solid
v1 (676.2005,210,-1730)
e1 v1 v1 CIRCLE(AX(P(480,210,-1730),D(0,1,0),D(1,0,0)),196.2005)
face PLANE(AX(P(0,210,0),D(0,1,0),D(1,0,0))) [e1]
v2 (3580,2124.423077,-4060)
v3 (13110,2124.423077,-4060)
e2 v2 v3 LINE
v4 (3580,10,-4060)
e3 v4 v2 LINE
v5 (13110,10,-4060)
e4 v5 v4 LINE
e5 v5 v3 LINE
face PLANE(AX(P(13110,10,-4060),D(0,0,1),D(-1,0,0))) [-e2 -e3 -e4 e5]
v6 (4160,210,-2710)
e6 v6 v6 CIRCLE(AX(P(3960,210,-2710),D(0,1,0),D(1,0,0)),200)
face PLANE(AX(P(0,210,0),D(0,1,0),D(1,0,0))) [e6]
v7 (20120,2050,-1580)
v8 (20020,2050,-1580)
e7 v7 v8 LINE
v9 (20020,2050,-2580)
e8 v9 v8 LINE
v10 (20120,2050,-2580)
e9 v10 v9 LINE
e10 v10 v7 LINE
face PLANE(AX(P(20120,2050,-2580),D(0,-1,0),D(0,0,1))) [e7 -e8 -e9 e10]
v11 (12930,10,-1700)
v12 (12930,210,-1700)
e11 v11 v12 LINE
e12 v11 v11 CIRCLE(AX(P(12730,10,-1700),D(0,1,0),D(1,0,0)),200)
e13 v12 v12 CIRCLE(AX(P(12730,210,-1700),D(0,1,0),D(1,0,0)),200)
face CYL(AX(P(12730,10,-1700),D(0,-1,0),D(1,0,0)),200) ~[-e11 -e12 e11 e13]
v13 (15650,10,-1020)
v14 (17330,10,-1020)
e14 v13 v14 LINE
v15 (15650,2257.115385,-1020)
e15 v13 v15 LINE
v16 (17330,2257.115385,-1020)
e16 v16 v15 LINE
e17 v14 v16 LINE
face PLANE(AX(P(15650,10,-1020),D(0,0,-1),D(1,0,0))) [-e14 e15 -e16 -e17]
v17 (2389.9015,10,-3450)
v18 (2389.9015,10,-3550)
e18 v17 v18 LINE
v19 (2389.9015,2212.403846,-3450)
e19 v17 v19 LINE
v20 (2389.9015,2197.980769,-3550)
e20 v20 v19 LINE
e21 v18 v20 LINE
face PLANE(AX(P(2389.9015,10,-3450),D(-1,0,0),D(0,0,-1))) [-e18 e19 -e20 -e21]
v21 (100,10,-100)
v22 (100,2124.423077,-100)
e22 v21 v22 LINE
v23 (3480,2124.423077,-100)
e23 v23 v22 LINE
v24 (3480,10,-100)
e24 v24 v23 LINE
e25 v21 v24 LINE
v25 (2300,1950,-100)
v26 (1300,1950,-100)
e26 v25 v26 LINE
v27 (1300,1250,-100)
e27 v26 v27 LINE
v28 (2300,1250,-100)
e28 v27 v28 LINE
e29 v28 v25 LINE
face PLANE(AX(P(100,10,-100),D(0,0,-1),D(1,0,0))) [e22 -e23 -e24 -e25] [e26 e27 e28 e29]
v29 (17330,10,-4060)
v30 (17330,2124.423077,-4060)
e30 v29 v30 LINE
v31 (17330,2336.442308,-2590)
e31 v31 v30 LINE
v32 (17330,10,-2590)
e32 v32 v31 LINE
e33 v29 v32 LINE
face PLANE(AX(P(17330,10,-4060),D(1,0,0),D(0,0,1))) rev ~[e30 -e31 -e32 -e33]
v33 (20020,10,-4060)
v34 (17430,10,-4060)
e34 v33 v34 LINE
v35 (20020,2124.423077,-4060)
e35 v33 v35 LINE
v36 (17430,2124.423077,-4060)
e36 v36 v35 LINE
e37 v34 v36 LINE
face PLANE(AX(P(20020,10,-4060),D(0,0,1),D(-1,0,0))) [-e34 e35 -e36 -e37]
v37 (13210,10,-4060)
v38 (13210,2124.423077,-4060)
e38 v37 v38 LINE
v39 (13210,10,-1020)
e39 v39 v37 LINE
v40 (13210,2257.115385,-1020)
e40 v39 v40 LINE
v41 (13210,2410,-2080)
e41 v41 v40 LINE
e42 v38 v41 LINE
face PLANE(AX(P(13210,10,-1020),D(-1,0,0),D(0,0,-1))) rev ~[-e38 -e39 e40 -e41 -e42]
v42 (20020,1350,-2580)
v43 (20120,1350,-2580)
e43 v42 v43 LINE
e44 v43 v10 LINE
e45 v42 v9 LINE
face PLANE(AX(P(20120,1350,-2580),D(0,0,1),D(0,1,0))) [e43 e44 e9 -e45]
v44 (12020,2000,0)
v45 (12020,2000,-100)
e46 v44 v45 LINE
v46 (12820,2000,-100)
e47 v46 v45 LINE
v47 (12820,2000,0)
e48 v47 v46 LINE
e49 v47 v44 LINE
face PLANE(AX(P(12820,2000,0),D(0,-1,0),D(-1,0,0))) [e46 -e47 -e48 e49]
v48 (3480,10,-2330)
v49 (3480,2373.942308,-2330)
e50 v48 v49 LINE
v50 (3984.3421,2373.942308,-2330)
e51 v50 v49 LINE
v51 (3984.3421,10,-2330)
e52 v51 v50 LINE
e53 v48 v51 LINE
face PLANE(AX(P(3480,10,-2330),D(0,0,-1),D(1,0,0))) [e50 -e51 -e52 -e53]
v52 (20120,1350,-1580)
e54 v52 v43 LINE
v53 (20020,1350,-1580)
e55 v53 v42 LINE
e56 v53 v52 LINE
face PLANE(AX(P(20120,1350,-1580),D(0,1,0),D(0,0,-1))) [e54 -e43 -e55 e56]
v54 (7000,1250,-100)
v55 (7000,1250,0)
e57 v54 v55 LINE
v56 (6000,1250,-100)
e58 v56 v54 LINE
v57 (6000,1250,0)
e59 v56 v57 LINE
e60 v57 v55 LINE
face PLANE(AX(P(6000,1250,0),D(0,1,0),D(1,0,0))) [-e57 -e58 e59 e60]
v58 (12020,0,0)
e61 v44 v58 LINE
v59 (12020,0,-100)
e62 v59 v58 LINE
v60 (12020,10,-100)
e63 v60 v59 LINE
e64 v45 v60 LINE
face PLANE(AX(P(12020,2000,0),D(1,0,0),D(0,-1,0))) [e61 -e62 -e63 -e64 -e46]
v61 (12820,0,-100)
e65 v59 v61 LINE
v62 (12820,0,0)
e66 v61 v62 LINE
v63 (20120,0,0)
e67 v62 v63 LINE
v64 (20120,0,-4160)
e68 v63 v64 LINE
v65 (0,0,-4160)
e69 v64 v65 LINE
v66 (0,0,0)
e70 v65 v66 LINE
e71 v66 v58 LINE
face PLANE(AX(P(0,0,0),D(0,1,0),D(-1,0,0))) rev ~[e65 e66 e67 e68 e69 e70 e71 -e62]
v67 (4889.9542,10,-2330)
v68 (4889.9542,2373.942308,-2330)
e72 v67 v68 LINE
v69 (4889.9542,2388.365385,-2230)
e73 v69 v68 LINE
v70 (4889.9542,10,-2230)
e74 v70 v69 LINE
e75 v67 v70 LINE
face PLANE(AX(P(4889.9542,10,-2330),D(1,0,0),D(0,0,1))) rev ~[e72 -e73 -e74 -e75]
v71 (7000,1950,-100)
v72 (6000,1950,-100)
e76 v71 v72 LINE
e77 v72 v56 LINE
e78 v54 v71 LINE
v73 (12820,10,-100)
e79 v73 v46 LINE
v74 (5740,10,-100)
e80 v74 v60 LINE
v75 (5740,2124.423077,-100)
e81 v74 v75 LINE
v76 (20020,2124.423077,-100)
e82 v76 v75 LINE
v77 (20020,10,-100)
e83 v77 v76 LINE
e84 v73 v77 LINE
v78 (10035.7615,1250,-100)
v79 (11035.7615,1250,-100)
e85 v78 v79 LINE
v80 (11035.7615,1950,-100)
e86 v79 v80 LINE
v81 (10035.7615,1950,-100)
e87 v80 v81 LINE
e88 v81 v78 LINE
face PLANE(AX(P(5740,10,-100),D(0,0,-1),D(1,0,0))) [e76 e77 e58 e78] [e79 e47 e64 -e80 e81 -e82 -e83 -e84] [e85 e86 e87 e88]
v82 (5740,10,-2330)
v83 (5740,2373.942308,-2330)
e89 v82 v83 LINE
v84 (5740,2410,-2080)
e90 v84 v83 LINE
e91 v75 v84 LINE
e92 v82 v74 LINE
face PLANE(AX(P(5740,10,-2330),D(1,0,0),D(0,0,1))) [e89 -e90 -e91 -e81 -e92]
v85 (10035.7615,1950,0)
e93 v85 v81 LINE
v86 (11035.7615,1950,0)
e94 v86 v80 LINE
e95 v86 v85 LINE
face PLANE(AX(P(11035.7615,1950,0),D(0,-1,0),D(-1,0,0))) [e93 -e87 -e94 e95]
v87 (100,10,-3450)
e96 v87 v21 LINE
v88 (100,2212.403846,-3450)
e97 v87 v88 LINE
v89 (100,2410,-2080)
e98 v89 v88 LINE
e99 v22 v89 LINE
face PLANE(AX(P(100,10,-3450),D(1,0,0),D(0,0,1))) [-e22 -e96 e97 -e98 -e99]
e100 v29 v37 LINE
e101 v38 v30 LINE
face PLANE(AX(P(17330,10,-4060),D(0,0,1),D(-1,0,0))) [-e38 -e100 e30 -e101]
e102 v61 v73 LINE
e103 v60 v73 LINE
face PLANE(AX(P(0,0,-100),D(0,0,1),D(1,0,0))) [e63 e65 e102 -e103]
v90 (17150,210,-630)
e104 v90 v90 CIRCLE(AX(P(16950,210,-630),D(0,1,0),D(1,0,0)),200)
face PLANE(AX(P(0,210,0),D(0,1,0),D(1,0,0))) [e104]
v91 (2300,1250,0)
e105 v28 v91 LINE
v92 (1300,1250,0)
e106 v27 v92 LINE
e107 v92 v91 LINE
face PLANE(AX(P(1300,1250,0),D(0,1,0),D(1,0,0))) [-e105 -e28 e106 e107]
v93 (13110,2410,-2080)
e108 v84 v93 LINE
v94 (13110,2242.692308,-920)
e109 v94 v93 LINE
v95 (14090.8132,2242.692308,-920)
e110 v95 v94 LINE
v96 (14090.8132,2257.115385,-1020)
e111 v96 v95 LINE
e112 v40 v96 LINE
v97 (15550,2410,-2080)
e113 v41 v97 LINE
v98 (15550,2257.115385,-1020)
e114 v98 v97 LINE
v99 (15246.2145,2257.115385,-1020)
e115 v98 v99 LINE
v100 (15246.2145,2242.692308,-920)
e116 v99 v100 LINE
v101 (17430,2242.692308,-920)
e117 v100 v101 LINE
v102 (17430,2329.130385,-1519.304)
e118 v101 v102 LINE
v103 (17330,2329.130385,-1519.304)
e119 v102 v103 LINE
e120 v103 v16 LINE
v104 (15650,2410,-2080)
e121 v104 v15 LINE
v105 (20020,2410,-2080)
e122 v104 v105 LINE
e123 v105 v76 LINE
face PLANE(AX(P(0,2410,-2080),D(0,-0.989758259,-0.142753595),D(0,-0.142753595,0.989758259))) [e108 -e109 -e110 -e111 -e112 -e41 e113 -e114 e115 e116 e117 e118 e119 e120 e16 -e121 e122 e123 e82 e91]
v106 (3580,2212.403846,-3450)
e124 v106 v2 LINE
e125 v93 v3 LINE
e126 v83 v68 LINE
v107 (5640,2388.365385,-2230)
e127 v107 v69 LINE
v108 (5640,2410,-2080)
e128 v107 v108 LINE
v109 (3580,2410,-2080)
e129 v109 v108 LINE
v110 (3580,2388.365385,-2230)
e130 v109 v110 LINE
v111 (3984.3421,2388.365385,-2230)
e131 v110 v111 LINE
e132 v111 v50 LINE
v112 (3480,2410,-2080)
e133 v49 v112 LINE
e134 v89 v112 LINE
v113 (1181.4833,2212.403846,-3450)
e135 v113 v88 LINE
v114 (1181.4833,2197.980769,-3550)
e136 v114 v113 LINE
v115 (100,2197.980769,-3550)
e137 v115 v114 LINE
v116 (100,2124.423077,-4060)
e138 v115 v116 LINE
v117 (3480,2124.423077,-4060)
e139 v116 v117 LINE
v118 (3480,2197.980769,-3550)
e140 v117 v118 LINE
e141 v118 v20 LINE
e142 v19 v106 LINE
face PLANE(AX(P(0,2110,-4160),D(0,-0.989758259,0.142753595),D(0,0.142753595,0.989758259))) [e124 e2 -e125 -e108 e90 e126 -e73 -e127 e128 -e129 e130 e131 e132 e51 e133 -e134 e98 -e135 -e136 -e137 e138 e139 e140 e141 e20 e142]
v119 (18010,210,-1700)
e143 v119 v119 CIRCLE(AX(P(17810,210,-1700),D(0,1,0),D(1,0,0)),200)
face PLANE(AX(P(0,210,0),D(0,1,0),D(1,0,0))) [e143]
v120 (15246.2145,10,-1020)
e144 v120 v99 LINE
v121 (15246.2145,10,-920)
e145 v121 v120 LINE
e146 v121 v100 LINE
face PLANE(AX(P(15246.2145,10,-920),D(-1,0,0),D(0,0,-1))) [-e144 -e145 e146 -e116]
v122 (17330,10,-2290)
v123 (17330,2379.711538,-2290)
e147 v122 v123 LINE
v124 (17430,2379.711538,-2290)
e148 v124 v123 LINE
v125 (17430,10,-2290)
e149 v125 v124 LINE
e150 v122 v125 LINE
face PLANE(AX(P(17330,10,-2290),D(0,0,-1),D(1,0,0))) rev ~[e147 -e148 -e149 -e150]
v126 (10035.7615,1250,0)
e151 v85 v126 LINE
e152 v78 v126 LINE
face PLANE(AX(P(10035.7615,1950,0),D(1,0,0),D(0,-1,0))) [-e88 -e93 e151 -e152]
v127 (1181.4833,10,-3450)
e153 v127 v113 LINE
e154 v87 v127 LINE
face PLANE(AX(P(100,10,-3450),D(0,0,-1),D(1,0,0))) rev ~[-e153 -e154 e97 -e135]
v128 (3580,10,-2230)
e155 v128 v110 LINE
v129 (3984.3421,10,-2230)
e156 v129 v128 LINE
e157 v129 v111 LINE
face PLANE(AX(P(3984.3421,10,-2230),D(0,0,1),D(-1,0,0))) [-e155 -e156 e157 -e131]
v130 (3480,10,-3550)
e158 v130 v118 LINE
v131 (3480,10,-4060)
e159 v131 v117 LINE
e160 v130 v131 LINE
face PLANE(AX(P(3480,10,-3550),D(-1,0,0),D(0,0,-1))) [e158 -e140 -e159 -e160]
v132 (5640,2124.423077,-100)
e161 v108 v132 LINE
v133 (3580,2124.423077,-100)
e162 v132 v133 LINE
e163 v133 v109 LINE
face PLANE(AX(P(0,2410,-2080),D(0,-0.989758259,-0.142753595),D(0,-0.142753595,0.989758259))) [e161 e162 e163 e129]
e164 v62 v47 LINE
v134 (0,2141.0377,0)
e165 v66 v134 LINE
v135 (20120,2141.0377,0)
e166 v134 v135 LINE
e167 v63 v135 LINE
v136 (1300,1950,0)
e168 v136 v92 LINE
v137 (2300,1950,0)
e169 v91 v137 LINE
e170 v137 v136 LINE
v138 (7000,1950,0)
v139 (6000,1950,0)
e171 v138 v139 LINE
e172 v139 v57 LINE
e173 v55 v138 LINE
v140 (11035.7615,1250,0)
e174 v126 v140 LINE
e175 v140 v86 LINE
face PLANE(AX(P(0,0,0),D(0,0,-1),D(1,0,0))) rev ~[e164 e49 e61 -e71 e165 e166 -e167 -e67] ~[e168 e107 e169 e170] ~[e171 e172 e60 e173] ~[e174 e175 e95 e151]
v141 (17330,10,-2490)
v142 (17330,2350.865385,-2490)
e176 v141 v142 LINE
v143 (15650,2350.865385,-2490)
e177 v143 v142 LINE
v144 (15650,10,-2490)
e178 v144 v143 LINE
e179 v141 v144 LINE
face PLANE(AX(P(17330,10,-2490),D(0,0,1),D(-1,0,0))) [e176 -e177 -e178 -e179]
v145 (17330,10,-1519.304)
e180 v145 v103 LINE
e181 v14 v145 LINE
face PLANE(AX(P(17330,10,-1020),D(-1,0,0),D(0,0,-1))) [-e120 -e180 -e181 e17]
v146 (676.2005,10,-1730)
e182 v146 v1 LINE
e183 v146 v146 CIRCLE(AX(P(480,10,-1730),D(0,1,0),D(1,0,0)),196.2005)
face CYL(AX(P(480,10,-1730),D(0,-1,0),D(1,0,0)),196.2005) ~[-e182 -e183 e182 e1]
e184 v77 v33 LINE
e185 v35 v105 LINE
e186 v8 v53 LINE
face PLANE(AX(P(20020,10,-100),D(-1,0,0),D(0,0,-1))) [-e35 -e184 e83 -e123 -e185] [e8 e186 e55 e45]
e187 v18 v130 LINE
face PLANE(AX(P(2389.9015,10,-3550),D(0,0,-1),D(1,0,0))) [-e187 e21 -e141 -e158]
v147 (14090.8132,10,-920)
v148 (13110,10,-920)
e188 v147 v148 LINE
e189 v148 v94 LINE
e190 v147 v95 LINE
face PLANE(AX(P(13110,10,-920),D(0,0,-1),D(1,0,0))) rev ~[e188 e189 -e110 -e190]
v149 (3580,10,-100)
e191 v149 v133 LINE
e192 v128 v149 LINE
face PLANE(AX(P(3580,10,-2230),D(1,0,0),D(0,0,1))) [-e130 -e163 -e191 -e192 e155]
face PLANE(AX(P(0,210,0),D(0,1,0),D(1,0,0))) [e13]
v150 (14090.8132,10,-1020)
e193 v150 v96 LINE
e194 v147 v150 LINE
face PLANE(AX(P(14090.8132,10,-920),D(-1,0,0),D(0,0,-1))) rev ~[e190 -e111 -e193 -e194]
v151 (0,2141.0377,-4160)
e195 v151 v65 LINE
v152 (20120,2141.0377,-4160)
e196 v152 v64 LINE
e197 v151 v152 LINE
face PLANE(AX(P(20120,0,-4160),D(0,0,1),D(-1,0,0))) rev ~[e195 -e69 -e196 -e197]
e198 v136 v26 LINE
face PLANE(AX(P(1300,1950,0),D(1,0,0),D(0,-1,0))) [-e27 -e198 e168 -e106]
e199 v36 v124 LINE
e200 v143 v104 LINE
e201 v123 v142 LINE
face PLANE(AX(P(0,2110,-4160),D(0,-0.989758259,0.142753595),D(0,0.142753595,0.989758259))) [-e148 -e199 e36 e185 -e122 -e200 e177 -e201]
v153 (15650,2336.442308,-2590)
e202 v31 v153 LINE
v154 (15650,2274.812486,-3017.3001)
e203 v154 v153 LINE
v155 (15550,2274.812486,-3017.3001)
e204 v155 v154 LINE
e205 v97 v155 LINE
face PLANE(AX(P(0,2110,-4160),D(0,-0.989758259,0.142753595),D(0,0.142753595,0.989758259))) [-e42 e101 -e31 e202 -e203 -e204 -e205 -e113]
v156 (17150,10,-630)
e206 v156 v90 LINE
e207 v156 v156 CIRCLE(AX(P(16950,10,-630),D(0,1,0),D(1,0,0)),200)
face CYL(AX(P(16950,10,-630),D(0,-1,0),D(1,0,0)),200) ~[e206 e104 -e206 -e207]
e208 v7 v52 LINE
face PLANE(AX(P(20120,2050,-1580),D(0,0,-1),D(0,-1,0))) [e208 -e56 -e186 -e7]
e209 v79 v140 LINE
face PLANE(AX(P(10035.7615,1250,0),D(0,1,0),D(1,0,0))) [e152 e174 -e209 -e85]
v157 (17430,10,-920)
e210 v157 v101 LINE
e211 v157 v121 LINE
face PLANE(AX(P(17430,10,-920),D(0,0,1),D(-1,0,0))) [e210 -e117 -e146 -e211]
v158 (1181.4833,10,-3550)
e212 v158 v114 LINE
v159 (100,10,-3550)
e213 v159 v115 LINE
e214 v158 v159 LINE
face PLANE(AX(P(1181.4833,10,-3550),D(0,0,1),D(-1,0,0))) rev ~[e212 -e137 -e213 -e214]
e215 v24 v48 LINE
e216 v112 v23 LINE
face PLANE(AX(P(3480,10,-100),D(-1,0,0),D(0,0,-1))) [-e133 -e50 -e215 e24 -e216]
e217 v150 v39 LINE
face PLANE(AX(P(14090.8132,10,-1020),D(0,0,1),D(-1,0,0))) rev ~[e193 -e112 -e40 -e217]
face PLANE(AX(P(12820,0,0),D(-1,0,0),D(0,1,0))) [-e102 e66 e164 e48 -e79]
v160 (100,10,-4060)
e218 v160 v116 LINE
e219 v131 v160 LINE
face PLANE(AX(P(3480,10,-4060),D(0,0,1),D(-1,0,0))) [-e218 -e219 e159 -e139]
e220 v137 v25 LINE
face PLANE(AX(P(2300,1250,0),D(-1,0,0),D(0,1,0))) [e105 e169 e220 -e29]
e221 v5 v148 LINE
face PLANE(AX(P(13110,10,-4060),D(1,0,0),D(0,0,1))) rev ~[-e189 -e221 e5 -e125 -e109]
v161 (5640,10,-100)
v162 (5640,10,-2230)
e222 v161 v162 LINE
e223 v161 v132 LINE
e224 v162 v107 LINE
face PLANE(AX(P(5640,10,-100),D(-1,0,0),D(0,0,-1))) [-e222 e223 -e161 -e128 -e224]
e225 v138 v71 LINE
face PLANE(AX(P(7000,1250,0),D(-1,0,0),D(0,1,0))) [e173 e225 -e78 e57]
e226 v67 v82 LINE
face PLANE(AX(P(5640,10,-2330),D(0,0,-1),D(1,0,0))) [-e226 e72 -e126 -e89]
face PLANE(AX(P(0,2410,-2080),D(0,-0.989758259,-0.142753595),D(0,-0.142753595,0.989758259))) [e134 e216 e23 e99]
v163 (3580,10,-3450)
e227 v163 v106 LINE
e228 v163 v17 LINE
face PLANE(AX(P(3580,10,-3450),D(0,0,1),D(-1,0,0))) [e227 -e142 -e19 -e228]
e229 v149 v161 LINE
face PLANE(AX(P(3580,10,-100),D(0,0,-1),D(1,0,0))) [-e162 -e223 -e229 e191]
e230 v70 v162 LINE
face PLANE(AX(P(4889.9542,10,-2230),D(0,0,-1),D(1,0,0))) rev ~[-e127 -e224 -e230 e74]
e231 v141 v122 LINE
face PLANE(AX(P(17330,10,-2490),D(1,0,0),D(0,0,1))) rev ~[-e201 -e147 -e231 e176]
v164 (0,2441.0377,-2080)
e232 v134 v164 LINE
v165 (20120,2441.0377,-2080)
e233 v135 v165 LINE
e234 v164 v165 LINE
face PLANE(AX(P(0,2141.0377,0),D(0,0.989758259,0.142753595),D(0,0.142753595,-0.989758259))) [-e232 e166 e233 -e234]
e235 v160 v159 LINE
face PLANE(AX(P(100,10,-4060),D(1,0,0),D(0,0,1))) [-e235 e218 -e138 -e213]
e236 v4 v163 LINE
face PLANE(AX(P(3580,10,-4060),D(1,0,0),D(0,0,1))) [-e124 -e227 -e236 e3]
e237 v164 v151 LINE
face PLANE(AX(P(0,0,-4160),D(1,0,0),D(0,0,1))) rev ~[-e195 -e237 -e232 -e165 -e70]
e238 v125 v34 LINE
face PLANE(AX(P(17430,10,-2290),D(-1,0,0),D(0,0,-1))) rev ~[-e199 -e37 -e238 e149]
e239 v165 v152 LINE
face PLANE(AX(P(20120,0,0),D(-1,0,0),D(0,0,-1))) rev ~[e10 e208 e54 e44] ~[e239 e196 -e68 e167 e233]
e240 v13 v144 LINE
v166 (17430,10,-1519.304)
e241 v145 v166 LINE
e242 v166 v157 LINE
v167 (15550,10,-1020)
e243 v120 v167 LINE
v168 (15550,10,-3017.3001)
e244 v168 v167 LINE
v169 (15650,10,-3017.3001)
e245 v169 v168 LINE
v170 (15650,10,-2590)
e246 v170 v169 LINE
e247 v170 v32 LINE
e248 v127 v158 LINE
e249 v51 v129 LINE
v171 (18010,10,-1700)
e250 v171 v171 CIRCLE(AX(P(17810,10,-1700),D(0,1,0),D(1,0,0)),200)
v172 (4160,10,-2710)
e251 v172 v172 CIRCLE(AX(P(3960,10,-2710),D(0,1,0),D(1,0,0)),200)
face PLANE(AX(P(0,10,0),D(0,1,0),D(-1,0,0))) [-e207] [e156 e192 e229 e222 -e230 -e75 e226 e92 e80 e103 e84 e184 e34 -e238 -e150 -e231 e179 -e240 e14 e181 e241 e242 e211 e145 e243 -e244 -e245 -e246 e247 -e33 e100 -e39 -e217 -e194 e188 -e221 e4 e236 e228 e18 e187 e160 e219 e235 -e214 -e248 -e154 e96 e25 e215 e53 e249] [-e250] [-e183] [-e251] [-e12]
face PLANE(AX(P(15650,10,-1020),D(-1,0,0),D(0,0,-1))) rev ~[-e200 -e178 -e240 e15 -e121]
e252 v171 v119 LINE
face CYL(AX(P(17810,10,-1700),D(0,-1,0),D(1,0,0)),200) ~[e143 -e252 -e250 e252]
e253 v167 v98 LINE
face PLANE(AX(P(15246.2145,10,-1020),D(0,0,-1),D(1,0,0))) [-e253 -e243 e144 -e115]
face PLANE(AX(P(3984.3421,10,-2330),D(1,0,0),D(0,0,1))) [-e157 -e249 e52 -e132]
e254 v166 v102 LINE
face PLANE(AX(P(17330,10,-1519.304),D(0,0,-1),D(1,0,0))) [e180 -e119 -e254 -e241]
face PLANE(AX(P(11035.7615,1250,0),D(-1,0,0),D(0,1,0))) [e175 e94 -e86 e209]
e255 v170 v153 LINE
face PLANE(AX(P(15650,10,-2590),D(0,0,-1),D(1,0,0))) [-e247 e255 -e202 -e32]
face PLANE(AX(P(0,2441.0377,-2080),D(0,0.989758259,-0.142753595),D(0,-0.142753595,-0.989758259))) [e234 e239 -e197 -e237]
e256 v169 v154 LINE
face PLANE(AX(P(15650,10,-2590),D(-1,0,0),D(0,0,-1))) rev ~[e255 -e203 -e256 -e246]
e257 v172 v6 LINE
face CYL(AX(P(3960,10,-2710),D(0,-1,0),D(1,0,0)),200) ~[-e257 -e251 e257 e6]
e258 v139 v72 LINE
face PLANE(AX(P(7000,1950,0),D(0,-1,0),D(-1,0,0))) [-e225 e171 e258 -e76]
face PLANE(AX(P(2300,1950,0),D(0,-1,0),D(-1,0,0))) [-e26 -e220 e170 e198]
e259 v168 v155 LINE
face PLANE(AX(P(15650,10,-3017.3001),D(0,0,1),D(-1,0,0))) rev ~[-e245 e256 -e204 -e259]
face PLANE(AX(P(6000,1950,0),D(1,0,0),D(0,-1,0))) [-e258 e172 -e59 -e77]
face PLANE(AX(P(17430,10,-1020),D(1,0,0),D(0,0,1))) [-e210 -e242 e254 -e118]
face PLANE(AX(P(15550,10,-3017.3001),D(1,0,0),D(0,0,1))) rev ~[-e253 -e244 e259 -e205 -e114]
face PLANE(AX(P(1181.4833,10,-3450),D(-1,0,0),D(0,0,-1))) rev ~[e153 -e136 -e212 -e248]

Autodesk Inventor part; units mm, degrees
ref_plane "YZ Plane" through (0, 0, 0) normal (1, 0, 0) x (0, 1, 0)
ref_plane "XZ Plane" through (0, 0, 0) normal (0, 1, 0) x (-1, 0, 0)
ref_plane "XY Plane" through (0, 0, 0) normal (0, 0, 1) x (1, 0, 0)
sketch "Sketch1" plane through (0, 0, 0) normal (0, 1, 0) x (-1, 0, 0)
  line L0 (0, 0) -> (-20120, 0)
  line L1 (-20120, 0) -> (-20120, -4160)
  line L2 (-20120, -4160) -> (0, -4160)
  line L3 (0, -4160) -> (0, 0)
  dimension "d0" = 20120
  dimension "d2" = 4160
extrude "Extrusion1" add sketch "Sketch1" along normal blind 10
sketch "Sketch5" plane through (0, 0, -4160) normal (-1, 0, 0) x (0, 0, 1)
  line L0 (0, 10) -> (4160, 10)
  line L1 (4160, 10) -> (4160, 2110)
  line L2 (4160, 2110) -> (0, 2110)
  line L3 (0, 2110) -> (0, 10)
  line L4 (0, 2110) -> (2080, 2410)
  line L5 (2080, 2410) -> (4160, 2110)
  line L6 (4160, 2141.0377) -> (2080, 2441.0377)
  line L7 (2080, 2441.0377) -> (0, 2141.0377)
  line L8 (4160, 2110) -> (4160, 2141.0377)
  line L9 (0, 2141.0377) -> (0, 2110)
  dimension "d11" = 2100
  dimension "d12" = 4160
  dimension "d13" = 2080
  dimension "d14" = 2080
  dimension "d15" = 0
  dimension "d16" = 300
  dimension "d17" = 0
extrude "Extrusion2" add sketch "Sketch5" against normal blind 20120 contours L9 L7 L6 L8 L5 L4
sketch "Sketch6" plane through (0, 10, 0) normal (0, 1, 0) x (1, 0, 0)
  line L0 (0, 0) -> (20120, 0) projected
  line L1 (20120, 0) -> (20120, 4160) projected
  line L2 (20120, 4160) -> (0, 4160) projected
  line L3 (0, 0) -> (20120, 0)
  line L4 (20120, 0) -> (20120, 4160)
  line L5 (20120, 4160) -> (0, 4160)
  line L6 (0, 4160) -> (0, 0)
  line L7 (100, 100) -> (20020, 100)
  line L8 (20020, 100) -> (20020, 4060)
  line L9 (20020, 4060) -> (100, 4060)
  line L10 (100, 4060) -> (100, 100)
  line L11 (3580, 100) -> (3480, 100)
  line L12 (3480, 100) -> (3480, 2330)
  line L13 (3480, 2330) -> (3580, 2330)
  line L14 (3580, 2330) -> (3580, 100)
  line L15 (5740, 100) -> (5640, 100)
  line L16 (5640, 100) -> (5640, 2330)
  line L17 (5640, 2330) -> (5740, 2330)
  line L18 (5740, 2330) -> (5740, 100)
  line L19 (3580, 2330) -> (3984.3421, 2330)
  line L20 (3984.3421, 2330) -> (3984.3421, 2230)
  line L21 (3984.3421, 2230) -> (3580, 2230)
  line L22 (3580, 2230) -> (3580, 2330)
  line L23 (5640, 2330) -> (4889.9542, 2330)
  line L24 (4889.9542, 2330) -> (4889.9542, 2230)
  line L25 (4889.9542, 2230) -> (5640, 2230)
  line L26 (5640, 2230) -> (5640, 2330)
  line L27 (3480, 4060) -> (3580, 4060)
  line L28 (3580, 4060) -> (3580, 3450)
  line L29 (3580, 3450) -> (3480, 3450)
  line L30 (3480, 3450) -> (3480, 4060)
  line L31 (3480, 3450) -> (2389.9015, 3450)
  line L32 (2389.9015, 3450) -> (2389.9015, 3550)
  line L33 (2389.9015, 3550) -> (3480, 3550)
  line L34 (3480, 3550) -> (3480, 3450)
  line L35 (100, 3450) -> (1181.4833, 3450)
  line L36 (1181.4833, 3450) -> (1181.4833, 3550)
  line L37 (1181.4833, 3550) -> (100, 3550)
  line L38 (100, 3550) -> (100, 3450)
  line L39 (17430, 4060) -> (17330, 4060)
  line L40 (17330, 4060) -> (17330, 2290)
  line L41 (17330, 2290) -> (17430, 2290)
  line L42 (17430, 2290) -> (17430, 4060)
  line L43 (17330, 2490) -> (15650, 2490)
  line L44 (15650, 2490) -> (15650, 2590)
  line L45 (15650, 2590) -> (17330, 2590)
  line L46 (17330, 2590) -> (17330, 2490)
  line L47 (15246.2145, 1020) -> (17430, 1020)
  line L48 (17430, 1020) -> (17430, 920)
  line L49 (17430, 920) -> (15246.2145, 920)
  line L50 (15246.2145, 920) -> (15246.2145, 1020)
  line L51 (17430, 1020) -> (17330, 1020)
  line L52 (17330, 1020) -> (17330, 1519.304)
  line L53 (17330, 1519.304) -> (17430, 1519.304)
  line L54 (17430, 1519.304) -> (17430, 1020)
  line L55 (15650, 3017.3001) -> (15550, 3017.3001)
  line L56 (15550, 3017.3001) -> (15550, 1020)
  line L57 (15550, 1020) -> (15650, 1020)
  line L58 (15650, 1020) -> (15650, 3017.3001)
  line L59 (15550, 4060) -> (15650, 4060)
  line L60 (15650, 4060) -> (15650, 3753.7451)
  line L61 (15650, 3753.7451) -> (15550, 3753.7451)
  line L62 (15550, 3753.7451) -> (15550, 4060)
  line L63 (13210, 4060) -> (13110, 4060)
  line L64 (13110, 4060) -> (13110, 920)
  line L65 (13110, 920) -> (13210, 920)
  line L66 (13210, 920) -> (13210, 4060)
  line L67 (13210, 920) -> (14090.8132, 920)
  line L68 (14090.8132, 920) -> (14090.8132, 1020)
  line L69 (14090.8132, 1020) -> (13210, 1020)
  line L70 (13210, 1020) -> (13210, 920)
  dimension "d20" = 100
  dimension "d22" = 100
  dimension "d23" = 100
  dimension "d24" = 100
  dimension "d25" = 3480
  dimension "d26" = 2230
  dimension "d27" = 100
  dimension "d28" = 2160
  dimension "d29" = 100
  dimension "d30" = 100
  dimension "d31" = 100
  dimension "d32" = 100
  dimension "d33" = 2590
  dimension "d34" = 100
  dimension "d35" = 1770
  dimension "d36" = 1470
  dimension "d37" = 100
  dimension "d38" = 1680
  dimension "d39" = 1470
  dimension "d40" = 100
  dimension "d41" = 100
  dimension "d42" = 2440
  dimension "d43" = 0
  dimension "d44" = 0
  dimension "d45" = 100
  dimension "d48" = 3350
  dimension "d49" = 3350
  dimension "d50" = 3380
  dimension "d51" = 100
extrude "Extrusion3" add sketch "Sketch6" along normal up to next contours L6 L2 L1 L0 | L12 L13 L14 L7 | L10 L37 L36 L35 | L16 L17 L18 L7 | L14 L19 L20 L21 | L25 L24 L23 L16 | L9 L28 L29 L30 | L30 L31 L32 L33 | L9 L66 L65 L64 | L42 L41 L40 L9 | L69 L68 L67 L66 | L40 L43 L44 L45 | L44 L58 L47 L56 L55 | L47 L48 L49 L50 | L52 L53 L54 L47
sketch "Sketch7" plane through (20120, 0, 0) normal (1, 0, 0) x (0, 0, -1)
  line L0 (0, 0) -> (4160, 0) projected
  line L1 (1580, 1350) -> (2580, 1350)
  line L2 (2580, 1350) -> (2580, 2050)
  line L3 (2580, 2050) -> (1580, 2050)
  line L4 (1580, 2050) -> (1580, 1350)
  line L5 (1580, 1350) -> (2580, 2050) construction
  line L6 (2580, 1350) -> (1580, 2050) construction
  point P0 (2080, 2441.0377)
  point P1 (2080, 1700)
  dimension "d52" = 1000
  dimension "d54" = 0
  dimension "d55" = 1700
  dimension "d56" = 700
extrude "Extrusion4" cut sketch "Sketch7" along normal mid plane 200
sketch "Sketch8" plane through (0, 0, 0) normal (0, 0, 1) x (1, 0, 0)
  line L0 (0, 0) -> (20120, 0) projected
  line L1 (1300, 1250) -> (2300, 1250)
  line L2 (2300, 1250) -> (2300, 1950)
  line L3 (2300, 1950) -> (1300, 1950)
  line L4 (1300, 1950) -> (1300, 1250)
  line L5 (1300, 1250) -> (2300, 1950) construction
  line L6 (2300, 1250) -> (1300, 1950) construction
  line L7 (100, 10) -> (100, 2124.4231) projected
  line L8 (6000, 1250) -> (7000, 1250)
  line L9 (7000, 1250) -> (7000, 1950)
  line L10 (7000, 1950) -> (6000, 1950)
  line L11 (6000, 1950) -> (6000, 1250)
  line L12 (6000, 1250) -> (7000, 1950) construction
  line L13 (7000, 1250) -> (6000, 1950) construction
  line L14 (10035.7615, 1250) -> (11035.7615, 1250)
  line L15 (11035.7615, 1250) -> (11035.7615, 1950)
  line L16 (11035.7615, 1950) -> (10035.7615, 1950)
  line L17 (10035.7615, 1950) -> (10035.7615, 1250)
  line L18 (10035.7615, 1250) -> (11035.7615, 1950) construction
  line L19 (11035.7615, 1250) -> (10035.7615, 1950) construction
  line L20 (12020, 0) -> (12820, 0)
  line L21 (12820, 0) -> (12820, 2000)
  line L22 (12820, 2000) -> (12020, 2000)
  line L23 (12020, 2000) -> (12020, 0)
  line L24 (20020, 10) -> (20020, 2124.4231) projected
  point P0 (1800, 1600)
  point P1 (6500, 1600)
  point P2 (10535.7615, 1600)
  dimension "d59" = 1700
  dimension "d60" = 1600
  dimension "d61" = 1000
  dimension "d62" = 700
  dimension "d63" = 1000
  dimension "d64" = 700
  dimension "d65" = 1000
  dimension "d66" = 700
  dimension "d67" = 1600
  dimension "d68" = 6400
  dimension "d69" = 2000
  dimension "d70" = 800
  dimension "d71" = 7200
extrude "Extrusion5" cut sketch "Sketch8" along normal mid plane 200
sketch "Sketch9" plane through (0, 10, 0) normal (0, 1, 0) x (1, 0, 0)
  line L0 (12820, 0) -> (20120, 0) projected
  line L1 (20120, 0) -> (20120, 4160) projected
  line L2 (20120, 4160) -> (0, 4160) projected
  line L3 (0, 4160) -> (0, 0) projected
  line L4 (0, 0) -> (12020, 0) projected
  line L5 (280, 1530) -> (680, 1930) construction
  line L6 (680, 1530) -> (280, 1930) construction
  line L7 (3760, 2510) -> (4160, 2910) construction
  line L8 (4160, 2510) -> (3760, 2910) construction
  line L9 (12530, 1500) -> (12930, 1900) construction
  line L10 (12930, 1500) -> (12530, 1900) construction
  line L11 (16750, 430) -> (17150, 830) construction
  line L12 (17150, 430) -> (16750, 830) construction
  line L13 (17610, 1500) -> (18010, 1900) construction
  line L14 (18010, 1500) -> (17610, 1900) construction
  circle A0 centre (480, 1730) radius 196.2005
  circle A1 centre (3960, 2710) radius 200
  circle A2 centre (16950, 630) radius 200
  circle A3 centre (17810, 1700) radius 200
  circle A4 centre (12730, 1700) radius 200
  dimension "d74" = 1730
  dimension "d75" = 480
  dimension "d76" = 400
  dimension "d77" = 400
  dimension "d78" = 400
  dimension "d79" = 400
  dimension "d82" = 400
  dimension "d83" = 400
  dimension "d84" = 400
  dimension "d85" = 400
  dimension "d86" = 3960
  dimension "d87" = 2710
  dimension "d88" = 1700
  dimension "d89" = 7390
  dimension "d90" = 3530
  dimension "d91" = 3170
  dimension "d92" = 2310
  dimension "d93" = 1700
  dimension "d96" = 400
extrude "Extrusion6" add sketch "Sketch9" along normal blind 200
properties part number "Manufactured_Home_Drawing"
